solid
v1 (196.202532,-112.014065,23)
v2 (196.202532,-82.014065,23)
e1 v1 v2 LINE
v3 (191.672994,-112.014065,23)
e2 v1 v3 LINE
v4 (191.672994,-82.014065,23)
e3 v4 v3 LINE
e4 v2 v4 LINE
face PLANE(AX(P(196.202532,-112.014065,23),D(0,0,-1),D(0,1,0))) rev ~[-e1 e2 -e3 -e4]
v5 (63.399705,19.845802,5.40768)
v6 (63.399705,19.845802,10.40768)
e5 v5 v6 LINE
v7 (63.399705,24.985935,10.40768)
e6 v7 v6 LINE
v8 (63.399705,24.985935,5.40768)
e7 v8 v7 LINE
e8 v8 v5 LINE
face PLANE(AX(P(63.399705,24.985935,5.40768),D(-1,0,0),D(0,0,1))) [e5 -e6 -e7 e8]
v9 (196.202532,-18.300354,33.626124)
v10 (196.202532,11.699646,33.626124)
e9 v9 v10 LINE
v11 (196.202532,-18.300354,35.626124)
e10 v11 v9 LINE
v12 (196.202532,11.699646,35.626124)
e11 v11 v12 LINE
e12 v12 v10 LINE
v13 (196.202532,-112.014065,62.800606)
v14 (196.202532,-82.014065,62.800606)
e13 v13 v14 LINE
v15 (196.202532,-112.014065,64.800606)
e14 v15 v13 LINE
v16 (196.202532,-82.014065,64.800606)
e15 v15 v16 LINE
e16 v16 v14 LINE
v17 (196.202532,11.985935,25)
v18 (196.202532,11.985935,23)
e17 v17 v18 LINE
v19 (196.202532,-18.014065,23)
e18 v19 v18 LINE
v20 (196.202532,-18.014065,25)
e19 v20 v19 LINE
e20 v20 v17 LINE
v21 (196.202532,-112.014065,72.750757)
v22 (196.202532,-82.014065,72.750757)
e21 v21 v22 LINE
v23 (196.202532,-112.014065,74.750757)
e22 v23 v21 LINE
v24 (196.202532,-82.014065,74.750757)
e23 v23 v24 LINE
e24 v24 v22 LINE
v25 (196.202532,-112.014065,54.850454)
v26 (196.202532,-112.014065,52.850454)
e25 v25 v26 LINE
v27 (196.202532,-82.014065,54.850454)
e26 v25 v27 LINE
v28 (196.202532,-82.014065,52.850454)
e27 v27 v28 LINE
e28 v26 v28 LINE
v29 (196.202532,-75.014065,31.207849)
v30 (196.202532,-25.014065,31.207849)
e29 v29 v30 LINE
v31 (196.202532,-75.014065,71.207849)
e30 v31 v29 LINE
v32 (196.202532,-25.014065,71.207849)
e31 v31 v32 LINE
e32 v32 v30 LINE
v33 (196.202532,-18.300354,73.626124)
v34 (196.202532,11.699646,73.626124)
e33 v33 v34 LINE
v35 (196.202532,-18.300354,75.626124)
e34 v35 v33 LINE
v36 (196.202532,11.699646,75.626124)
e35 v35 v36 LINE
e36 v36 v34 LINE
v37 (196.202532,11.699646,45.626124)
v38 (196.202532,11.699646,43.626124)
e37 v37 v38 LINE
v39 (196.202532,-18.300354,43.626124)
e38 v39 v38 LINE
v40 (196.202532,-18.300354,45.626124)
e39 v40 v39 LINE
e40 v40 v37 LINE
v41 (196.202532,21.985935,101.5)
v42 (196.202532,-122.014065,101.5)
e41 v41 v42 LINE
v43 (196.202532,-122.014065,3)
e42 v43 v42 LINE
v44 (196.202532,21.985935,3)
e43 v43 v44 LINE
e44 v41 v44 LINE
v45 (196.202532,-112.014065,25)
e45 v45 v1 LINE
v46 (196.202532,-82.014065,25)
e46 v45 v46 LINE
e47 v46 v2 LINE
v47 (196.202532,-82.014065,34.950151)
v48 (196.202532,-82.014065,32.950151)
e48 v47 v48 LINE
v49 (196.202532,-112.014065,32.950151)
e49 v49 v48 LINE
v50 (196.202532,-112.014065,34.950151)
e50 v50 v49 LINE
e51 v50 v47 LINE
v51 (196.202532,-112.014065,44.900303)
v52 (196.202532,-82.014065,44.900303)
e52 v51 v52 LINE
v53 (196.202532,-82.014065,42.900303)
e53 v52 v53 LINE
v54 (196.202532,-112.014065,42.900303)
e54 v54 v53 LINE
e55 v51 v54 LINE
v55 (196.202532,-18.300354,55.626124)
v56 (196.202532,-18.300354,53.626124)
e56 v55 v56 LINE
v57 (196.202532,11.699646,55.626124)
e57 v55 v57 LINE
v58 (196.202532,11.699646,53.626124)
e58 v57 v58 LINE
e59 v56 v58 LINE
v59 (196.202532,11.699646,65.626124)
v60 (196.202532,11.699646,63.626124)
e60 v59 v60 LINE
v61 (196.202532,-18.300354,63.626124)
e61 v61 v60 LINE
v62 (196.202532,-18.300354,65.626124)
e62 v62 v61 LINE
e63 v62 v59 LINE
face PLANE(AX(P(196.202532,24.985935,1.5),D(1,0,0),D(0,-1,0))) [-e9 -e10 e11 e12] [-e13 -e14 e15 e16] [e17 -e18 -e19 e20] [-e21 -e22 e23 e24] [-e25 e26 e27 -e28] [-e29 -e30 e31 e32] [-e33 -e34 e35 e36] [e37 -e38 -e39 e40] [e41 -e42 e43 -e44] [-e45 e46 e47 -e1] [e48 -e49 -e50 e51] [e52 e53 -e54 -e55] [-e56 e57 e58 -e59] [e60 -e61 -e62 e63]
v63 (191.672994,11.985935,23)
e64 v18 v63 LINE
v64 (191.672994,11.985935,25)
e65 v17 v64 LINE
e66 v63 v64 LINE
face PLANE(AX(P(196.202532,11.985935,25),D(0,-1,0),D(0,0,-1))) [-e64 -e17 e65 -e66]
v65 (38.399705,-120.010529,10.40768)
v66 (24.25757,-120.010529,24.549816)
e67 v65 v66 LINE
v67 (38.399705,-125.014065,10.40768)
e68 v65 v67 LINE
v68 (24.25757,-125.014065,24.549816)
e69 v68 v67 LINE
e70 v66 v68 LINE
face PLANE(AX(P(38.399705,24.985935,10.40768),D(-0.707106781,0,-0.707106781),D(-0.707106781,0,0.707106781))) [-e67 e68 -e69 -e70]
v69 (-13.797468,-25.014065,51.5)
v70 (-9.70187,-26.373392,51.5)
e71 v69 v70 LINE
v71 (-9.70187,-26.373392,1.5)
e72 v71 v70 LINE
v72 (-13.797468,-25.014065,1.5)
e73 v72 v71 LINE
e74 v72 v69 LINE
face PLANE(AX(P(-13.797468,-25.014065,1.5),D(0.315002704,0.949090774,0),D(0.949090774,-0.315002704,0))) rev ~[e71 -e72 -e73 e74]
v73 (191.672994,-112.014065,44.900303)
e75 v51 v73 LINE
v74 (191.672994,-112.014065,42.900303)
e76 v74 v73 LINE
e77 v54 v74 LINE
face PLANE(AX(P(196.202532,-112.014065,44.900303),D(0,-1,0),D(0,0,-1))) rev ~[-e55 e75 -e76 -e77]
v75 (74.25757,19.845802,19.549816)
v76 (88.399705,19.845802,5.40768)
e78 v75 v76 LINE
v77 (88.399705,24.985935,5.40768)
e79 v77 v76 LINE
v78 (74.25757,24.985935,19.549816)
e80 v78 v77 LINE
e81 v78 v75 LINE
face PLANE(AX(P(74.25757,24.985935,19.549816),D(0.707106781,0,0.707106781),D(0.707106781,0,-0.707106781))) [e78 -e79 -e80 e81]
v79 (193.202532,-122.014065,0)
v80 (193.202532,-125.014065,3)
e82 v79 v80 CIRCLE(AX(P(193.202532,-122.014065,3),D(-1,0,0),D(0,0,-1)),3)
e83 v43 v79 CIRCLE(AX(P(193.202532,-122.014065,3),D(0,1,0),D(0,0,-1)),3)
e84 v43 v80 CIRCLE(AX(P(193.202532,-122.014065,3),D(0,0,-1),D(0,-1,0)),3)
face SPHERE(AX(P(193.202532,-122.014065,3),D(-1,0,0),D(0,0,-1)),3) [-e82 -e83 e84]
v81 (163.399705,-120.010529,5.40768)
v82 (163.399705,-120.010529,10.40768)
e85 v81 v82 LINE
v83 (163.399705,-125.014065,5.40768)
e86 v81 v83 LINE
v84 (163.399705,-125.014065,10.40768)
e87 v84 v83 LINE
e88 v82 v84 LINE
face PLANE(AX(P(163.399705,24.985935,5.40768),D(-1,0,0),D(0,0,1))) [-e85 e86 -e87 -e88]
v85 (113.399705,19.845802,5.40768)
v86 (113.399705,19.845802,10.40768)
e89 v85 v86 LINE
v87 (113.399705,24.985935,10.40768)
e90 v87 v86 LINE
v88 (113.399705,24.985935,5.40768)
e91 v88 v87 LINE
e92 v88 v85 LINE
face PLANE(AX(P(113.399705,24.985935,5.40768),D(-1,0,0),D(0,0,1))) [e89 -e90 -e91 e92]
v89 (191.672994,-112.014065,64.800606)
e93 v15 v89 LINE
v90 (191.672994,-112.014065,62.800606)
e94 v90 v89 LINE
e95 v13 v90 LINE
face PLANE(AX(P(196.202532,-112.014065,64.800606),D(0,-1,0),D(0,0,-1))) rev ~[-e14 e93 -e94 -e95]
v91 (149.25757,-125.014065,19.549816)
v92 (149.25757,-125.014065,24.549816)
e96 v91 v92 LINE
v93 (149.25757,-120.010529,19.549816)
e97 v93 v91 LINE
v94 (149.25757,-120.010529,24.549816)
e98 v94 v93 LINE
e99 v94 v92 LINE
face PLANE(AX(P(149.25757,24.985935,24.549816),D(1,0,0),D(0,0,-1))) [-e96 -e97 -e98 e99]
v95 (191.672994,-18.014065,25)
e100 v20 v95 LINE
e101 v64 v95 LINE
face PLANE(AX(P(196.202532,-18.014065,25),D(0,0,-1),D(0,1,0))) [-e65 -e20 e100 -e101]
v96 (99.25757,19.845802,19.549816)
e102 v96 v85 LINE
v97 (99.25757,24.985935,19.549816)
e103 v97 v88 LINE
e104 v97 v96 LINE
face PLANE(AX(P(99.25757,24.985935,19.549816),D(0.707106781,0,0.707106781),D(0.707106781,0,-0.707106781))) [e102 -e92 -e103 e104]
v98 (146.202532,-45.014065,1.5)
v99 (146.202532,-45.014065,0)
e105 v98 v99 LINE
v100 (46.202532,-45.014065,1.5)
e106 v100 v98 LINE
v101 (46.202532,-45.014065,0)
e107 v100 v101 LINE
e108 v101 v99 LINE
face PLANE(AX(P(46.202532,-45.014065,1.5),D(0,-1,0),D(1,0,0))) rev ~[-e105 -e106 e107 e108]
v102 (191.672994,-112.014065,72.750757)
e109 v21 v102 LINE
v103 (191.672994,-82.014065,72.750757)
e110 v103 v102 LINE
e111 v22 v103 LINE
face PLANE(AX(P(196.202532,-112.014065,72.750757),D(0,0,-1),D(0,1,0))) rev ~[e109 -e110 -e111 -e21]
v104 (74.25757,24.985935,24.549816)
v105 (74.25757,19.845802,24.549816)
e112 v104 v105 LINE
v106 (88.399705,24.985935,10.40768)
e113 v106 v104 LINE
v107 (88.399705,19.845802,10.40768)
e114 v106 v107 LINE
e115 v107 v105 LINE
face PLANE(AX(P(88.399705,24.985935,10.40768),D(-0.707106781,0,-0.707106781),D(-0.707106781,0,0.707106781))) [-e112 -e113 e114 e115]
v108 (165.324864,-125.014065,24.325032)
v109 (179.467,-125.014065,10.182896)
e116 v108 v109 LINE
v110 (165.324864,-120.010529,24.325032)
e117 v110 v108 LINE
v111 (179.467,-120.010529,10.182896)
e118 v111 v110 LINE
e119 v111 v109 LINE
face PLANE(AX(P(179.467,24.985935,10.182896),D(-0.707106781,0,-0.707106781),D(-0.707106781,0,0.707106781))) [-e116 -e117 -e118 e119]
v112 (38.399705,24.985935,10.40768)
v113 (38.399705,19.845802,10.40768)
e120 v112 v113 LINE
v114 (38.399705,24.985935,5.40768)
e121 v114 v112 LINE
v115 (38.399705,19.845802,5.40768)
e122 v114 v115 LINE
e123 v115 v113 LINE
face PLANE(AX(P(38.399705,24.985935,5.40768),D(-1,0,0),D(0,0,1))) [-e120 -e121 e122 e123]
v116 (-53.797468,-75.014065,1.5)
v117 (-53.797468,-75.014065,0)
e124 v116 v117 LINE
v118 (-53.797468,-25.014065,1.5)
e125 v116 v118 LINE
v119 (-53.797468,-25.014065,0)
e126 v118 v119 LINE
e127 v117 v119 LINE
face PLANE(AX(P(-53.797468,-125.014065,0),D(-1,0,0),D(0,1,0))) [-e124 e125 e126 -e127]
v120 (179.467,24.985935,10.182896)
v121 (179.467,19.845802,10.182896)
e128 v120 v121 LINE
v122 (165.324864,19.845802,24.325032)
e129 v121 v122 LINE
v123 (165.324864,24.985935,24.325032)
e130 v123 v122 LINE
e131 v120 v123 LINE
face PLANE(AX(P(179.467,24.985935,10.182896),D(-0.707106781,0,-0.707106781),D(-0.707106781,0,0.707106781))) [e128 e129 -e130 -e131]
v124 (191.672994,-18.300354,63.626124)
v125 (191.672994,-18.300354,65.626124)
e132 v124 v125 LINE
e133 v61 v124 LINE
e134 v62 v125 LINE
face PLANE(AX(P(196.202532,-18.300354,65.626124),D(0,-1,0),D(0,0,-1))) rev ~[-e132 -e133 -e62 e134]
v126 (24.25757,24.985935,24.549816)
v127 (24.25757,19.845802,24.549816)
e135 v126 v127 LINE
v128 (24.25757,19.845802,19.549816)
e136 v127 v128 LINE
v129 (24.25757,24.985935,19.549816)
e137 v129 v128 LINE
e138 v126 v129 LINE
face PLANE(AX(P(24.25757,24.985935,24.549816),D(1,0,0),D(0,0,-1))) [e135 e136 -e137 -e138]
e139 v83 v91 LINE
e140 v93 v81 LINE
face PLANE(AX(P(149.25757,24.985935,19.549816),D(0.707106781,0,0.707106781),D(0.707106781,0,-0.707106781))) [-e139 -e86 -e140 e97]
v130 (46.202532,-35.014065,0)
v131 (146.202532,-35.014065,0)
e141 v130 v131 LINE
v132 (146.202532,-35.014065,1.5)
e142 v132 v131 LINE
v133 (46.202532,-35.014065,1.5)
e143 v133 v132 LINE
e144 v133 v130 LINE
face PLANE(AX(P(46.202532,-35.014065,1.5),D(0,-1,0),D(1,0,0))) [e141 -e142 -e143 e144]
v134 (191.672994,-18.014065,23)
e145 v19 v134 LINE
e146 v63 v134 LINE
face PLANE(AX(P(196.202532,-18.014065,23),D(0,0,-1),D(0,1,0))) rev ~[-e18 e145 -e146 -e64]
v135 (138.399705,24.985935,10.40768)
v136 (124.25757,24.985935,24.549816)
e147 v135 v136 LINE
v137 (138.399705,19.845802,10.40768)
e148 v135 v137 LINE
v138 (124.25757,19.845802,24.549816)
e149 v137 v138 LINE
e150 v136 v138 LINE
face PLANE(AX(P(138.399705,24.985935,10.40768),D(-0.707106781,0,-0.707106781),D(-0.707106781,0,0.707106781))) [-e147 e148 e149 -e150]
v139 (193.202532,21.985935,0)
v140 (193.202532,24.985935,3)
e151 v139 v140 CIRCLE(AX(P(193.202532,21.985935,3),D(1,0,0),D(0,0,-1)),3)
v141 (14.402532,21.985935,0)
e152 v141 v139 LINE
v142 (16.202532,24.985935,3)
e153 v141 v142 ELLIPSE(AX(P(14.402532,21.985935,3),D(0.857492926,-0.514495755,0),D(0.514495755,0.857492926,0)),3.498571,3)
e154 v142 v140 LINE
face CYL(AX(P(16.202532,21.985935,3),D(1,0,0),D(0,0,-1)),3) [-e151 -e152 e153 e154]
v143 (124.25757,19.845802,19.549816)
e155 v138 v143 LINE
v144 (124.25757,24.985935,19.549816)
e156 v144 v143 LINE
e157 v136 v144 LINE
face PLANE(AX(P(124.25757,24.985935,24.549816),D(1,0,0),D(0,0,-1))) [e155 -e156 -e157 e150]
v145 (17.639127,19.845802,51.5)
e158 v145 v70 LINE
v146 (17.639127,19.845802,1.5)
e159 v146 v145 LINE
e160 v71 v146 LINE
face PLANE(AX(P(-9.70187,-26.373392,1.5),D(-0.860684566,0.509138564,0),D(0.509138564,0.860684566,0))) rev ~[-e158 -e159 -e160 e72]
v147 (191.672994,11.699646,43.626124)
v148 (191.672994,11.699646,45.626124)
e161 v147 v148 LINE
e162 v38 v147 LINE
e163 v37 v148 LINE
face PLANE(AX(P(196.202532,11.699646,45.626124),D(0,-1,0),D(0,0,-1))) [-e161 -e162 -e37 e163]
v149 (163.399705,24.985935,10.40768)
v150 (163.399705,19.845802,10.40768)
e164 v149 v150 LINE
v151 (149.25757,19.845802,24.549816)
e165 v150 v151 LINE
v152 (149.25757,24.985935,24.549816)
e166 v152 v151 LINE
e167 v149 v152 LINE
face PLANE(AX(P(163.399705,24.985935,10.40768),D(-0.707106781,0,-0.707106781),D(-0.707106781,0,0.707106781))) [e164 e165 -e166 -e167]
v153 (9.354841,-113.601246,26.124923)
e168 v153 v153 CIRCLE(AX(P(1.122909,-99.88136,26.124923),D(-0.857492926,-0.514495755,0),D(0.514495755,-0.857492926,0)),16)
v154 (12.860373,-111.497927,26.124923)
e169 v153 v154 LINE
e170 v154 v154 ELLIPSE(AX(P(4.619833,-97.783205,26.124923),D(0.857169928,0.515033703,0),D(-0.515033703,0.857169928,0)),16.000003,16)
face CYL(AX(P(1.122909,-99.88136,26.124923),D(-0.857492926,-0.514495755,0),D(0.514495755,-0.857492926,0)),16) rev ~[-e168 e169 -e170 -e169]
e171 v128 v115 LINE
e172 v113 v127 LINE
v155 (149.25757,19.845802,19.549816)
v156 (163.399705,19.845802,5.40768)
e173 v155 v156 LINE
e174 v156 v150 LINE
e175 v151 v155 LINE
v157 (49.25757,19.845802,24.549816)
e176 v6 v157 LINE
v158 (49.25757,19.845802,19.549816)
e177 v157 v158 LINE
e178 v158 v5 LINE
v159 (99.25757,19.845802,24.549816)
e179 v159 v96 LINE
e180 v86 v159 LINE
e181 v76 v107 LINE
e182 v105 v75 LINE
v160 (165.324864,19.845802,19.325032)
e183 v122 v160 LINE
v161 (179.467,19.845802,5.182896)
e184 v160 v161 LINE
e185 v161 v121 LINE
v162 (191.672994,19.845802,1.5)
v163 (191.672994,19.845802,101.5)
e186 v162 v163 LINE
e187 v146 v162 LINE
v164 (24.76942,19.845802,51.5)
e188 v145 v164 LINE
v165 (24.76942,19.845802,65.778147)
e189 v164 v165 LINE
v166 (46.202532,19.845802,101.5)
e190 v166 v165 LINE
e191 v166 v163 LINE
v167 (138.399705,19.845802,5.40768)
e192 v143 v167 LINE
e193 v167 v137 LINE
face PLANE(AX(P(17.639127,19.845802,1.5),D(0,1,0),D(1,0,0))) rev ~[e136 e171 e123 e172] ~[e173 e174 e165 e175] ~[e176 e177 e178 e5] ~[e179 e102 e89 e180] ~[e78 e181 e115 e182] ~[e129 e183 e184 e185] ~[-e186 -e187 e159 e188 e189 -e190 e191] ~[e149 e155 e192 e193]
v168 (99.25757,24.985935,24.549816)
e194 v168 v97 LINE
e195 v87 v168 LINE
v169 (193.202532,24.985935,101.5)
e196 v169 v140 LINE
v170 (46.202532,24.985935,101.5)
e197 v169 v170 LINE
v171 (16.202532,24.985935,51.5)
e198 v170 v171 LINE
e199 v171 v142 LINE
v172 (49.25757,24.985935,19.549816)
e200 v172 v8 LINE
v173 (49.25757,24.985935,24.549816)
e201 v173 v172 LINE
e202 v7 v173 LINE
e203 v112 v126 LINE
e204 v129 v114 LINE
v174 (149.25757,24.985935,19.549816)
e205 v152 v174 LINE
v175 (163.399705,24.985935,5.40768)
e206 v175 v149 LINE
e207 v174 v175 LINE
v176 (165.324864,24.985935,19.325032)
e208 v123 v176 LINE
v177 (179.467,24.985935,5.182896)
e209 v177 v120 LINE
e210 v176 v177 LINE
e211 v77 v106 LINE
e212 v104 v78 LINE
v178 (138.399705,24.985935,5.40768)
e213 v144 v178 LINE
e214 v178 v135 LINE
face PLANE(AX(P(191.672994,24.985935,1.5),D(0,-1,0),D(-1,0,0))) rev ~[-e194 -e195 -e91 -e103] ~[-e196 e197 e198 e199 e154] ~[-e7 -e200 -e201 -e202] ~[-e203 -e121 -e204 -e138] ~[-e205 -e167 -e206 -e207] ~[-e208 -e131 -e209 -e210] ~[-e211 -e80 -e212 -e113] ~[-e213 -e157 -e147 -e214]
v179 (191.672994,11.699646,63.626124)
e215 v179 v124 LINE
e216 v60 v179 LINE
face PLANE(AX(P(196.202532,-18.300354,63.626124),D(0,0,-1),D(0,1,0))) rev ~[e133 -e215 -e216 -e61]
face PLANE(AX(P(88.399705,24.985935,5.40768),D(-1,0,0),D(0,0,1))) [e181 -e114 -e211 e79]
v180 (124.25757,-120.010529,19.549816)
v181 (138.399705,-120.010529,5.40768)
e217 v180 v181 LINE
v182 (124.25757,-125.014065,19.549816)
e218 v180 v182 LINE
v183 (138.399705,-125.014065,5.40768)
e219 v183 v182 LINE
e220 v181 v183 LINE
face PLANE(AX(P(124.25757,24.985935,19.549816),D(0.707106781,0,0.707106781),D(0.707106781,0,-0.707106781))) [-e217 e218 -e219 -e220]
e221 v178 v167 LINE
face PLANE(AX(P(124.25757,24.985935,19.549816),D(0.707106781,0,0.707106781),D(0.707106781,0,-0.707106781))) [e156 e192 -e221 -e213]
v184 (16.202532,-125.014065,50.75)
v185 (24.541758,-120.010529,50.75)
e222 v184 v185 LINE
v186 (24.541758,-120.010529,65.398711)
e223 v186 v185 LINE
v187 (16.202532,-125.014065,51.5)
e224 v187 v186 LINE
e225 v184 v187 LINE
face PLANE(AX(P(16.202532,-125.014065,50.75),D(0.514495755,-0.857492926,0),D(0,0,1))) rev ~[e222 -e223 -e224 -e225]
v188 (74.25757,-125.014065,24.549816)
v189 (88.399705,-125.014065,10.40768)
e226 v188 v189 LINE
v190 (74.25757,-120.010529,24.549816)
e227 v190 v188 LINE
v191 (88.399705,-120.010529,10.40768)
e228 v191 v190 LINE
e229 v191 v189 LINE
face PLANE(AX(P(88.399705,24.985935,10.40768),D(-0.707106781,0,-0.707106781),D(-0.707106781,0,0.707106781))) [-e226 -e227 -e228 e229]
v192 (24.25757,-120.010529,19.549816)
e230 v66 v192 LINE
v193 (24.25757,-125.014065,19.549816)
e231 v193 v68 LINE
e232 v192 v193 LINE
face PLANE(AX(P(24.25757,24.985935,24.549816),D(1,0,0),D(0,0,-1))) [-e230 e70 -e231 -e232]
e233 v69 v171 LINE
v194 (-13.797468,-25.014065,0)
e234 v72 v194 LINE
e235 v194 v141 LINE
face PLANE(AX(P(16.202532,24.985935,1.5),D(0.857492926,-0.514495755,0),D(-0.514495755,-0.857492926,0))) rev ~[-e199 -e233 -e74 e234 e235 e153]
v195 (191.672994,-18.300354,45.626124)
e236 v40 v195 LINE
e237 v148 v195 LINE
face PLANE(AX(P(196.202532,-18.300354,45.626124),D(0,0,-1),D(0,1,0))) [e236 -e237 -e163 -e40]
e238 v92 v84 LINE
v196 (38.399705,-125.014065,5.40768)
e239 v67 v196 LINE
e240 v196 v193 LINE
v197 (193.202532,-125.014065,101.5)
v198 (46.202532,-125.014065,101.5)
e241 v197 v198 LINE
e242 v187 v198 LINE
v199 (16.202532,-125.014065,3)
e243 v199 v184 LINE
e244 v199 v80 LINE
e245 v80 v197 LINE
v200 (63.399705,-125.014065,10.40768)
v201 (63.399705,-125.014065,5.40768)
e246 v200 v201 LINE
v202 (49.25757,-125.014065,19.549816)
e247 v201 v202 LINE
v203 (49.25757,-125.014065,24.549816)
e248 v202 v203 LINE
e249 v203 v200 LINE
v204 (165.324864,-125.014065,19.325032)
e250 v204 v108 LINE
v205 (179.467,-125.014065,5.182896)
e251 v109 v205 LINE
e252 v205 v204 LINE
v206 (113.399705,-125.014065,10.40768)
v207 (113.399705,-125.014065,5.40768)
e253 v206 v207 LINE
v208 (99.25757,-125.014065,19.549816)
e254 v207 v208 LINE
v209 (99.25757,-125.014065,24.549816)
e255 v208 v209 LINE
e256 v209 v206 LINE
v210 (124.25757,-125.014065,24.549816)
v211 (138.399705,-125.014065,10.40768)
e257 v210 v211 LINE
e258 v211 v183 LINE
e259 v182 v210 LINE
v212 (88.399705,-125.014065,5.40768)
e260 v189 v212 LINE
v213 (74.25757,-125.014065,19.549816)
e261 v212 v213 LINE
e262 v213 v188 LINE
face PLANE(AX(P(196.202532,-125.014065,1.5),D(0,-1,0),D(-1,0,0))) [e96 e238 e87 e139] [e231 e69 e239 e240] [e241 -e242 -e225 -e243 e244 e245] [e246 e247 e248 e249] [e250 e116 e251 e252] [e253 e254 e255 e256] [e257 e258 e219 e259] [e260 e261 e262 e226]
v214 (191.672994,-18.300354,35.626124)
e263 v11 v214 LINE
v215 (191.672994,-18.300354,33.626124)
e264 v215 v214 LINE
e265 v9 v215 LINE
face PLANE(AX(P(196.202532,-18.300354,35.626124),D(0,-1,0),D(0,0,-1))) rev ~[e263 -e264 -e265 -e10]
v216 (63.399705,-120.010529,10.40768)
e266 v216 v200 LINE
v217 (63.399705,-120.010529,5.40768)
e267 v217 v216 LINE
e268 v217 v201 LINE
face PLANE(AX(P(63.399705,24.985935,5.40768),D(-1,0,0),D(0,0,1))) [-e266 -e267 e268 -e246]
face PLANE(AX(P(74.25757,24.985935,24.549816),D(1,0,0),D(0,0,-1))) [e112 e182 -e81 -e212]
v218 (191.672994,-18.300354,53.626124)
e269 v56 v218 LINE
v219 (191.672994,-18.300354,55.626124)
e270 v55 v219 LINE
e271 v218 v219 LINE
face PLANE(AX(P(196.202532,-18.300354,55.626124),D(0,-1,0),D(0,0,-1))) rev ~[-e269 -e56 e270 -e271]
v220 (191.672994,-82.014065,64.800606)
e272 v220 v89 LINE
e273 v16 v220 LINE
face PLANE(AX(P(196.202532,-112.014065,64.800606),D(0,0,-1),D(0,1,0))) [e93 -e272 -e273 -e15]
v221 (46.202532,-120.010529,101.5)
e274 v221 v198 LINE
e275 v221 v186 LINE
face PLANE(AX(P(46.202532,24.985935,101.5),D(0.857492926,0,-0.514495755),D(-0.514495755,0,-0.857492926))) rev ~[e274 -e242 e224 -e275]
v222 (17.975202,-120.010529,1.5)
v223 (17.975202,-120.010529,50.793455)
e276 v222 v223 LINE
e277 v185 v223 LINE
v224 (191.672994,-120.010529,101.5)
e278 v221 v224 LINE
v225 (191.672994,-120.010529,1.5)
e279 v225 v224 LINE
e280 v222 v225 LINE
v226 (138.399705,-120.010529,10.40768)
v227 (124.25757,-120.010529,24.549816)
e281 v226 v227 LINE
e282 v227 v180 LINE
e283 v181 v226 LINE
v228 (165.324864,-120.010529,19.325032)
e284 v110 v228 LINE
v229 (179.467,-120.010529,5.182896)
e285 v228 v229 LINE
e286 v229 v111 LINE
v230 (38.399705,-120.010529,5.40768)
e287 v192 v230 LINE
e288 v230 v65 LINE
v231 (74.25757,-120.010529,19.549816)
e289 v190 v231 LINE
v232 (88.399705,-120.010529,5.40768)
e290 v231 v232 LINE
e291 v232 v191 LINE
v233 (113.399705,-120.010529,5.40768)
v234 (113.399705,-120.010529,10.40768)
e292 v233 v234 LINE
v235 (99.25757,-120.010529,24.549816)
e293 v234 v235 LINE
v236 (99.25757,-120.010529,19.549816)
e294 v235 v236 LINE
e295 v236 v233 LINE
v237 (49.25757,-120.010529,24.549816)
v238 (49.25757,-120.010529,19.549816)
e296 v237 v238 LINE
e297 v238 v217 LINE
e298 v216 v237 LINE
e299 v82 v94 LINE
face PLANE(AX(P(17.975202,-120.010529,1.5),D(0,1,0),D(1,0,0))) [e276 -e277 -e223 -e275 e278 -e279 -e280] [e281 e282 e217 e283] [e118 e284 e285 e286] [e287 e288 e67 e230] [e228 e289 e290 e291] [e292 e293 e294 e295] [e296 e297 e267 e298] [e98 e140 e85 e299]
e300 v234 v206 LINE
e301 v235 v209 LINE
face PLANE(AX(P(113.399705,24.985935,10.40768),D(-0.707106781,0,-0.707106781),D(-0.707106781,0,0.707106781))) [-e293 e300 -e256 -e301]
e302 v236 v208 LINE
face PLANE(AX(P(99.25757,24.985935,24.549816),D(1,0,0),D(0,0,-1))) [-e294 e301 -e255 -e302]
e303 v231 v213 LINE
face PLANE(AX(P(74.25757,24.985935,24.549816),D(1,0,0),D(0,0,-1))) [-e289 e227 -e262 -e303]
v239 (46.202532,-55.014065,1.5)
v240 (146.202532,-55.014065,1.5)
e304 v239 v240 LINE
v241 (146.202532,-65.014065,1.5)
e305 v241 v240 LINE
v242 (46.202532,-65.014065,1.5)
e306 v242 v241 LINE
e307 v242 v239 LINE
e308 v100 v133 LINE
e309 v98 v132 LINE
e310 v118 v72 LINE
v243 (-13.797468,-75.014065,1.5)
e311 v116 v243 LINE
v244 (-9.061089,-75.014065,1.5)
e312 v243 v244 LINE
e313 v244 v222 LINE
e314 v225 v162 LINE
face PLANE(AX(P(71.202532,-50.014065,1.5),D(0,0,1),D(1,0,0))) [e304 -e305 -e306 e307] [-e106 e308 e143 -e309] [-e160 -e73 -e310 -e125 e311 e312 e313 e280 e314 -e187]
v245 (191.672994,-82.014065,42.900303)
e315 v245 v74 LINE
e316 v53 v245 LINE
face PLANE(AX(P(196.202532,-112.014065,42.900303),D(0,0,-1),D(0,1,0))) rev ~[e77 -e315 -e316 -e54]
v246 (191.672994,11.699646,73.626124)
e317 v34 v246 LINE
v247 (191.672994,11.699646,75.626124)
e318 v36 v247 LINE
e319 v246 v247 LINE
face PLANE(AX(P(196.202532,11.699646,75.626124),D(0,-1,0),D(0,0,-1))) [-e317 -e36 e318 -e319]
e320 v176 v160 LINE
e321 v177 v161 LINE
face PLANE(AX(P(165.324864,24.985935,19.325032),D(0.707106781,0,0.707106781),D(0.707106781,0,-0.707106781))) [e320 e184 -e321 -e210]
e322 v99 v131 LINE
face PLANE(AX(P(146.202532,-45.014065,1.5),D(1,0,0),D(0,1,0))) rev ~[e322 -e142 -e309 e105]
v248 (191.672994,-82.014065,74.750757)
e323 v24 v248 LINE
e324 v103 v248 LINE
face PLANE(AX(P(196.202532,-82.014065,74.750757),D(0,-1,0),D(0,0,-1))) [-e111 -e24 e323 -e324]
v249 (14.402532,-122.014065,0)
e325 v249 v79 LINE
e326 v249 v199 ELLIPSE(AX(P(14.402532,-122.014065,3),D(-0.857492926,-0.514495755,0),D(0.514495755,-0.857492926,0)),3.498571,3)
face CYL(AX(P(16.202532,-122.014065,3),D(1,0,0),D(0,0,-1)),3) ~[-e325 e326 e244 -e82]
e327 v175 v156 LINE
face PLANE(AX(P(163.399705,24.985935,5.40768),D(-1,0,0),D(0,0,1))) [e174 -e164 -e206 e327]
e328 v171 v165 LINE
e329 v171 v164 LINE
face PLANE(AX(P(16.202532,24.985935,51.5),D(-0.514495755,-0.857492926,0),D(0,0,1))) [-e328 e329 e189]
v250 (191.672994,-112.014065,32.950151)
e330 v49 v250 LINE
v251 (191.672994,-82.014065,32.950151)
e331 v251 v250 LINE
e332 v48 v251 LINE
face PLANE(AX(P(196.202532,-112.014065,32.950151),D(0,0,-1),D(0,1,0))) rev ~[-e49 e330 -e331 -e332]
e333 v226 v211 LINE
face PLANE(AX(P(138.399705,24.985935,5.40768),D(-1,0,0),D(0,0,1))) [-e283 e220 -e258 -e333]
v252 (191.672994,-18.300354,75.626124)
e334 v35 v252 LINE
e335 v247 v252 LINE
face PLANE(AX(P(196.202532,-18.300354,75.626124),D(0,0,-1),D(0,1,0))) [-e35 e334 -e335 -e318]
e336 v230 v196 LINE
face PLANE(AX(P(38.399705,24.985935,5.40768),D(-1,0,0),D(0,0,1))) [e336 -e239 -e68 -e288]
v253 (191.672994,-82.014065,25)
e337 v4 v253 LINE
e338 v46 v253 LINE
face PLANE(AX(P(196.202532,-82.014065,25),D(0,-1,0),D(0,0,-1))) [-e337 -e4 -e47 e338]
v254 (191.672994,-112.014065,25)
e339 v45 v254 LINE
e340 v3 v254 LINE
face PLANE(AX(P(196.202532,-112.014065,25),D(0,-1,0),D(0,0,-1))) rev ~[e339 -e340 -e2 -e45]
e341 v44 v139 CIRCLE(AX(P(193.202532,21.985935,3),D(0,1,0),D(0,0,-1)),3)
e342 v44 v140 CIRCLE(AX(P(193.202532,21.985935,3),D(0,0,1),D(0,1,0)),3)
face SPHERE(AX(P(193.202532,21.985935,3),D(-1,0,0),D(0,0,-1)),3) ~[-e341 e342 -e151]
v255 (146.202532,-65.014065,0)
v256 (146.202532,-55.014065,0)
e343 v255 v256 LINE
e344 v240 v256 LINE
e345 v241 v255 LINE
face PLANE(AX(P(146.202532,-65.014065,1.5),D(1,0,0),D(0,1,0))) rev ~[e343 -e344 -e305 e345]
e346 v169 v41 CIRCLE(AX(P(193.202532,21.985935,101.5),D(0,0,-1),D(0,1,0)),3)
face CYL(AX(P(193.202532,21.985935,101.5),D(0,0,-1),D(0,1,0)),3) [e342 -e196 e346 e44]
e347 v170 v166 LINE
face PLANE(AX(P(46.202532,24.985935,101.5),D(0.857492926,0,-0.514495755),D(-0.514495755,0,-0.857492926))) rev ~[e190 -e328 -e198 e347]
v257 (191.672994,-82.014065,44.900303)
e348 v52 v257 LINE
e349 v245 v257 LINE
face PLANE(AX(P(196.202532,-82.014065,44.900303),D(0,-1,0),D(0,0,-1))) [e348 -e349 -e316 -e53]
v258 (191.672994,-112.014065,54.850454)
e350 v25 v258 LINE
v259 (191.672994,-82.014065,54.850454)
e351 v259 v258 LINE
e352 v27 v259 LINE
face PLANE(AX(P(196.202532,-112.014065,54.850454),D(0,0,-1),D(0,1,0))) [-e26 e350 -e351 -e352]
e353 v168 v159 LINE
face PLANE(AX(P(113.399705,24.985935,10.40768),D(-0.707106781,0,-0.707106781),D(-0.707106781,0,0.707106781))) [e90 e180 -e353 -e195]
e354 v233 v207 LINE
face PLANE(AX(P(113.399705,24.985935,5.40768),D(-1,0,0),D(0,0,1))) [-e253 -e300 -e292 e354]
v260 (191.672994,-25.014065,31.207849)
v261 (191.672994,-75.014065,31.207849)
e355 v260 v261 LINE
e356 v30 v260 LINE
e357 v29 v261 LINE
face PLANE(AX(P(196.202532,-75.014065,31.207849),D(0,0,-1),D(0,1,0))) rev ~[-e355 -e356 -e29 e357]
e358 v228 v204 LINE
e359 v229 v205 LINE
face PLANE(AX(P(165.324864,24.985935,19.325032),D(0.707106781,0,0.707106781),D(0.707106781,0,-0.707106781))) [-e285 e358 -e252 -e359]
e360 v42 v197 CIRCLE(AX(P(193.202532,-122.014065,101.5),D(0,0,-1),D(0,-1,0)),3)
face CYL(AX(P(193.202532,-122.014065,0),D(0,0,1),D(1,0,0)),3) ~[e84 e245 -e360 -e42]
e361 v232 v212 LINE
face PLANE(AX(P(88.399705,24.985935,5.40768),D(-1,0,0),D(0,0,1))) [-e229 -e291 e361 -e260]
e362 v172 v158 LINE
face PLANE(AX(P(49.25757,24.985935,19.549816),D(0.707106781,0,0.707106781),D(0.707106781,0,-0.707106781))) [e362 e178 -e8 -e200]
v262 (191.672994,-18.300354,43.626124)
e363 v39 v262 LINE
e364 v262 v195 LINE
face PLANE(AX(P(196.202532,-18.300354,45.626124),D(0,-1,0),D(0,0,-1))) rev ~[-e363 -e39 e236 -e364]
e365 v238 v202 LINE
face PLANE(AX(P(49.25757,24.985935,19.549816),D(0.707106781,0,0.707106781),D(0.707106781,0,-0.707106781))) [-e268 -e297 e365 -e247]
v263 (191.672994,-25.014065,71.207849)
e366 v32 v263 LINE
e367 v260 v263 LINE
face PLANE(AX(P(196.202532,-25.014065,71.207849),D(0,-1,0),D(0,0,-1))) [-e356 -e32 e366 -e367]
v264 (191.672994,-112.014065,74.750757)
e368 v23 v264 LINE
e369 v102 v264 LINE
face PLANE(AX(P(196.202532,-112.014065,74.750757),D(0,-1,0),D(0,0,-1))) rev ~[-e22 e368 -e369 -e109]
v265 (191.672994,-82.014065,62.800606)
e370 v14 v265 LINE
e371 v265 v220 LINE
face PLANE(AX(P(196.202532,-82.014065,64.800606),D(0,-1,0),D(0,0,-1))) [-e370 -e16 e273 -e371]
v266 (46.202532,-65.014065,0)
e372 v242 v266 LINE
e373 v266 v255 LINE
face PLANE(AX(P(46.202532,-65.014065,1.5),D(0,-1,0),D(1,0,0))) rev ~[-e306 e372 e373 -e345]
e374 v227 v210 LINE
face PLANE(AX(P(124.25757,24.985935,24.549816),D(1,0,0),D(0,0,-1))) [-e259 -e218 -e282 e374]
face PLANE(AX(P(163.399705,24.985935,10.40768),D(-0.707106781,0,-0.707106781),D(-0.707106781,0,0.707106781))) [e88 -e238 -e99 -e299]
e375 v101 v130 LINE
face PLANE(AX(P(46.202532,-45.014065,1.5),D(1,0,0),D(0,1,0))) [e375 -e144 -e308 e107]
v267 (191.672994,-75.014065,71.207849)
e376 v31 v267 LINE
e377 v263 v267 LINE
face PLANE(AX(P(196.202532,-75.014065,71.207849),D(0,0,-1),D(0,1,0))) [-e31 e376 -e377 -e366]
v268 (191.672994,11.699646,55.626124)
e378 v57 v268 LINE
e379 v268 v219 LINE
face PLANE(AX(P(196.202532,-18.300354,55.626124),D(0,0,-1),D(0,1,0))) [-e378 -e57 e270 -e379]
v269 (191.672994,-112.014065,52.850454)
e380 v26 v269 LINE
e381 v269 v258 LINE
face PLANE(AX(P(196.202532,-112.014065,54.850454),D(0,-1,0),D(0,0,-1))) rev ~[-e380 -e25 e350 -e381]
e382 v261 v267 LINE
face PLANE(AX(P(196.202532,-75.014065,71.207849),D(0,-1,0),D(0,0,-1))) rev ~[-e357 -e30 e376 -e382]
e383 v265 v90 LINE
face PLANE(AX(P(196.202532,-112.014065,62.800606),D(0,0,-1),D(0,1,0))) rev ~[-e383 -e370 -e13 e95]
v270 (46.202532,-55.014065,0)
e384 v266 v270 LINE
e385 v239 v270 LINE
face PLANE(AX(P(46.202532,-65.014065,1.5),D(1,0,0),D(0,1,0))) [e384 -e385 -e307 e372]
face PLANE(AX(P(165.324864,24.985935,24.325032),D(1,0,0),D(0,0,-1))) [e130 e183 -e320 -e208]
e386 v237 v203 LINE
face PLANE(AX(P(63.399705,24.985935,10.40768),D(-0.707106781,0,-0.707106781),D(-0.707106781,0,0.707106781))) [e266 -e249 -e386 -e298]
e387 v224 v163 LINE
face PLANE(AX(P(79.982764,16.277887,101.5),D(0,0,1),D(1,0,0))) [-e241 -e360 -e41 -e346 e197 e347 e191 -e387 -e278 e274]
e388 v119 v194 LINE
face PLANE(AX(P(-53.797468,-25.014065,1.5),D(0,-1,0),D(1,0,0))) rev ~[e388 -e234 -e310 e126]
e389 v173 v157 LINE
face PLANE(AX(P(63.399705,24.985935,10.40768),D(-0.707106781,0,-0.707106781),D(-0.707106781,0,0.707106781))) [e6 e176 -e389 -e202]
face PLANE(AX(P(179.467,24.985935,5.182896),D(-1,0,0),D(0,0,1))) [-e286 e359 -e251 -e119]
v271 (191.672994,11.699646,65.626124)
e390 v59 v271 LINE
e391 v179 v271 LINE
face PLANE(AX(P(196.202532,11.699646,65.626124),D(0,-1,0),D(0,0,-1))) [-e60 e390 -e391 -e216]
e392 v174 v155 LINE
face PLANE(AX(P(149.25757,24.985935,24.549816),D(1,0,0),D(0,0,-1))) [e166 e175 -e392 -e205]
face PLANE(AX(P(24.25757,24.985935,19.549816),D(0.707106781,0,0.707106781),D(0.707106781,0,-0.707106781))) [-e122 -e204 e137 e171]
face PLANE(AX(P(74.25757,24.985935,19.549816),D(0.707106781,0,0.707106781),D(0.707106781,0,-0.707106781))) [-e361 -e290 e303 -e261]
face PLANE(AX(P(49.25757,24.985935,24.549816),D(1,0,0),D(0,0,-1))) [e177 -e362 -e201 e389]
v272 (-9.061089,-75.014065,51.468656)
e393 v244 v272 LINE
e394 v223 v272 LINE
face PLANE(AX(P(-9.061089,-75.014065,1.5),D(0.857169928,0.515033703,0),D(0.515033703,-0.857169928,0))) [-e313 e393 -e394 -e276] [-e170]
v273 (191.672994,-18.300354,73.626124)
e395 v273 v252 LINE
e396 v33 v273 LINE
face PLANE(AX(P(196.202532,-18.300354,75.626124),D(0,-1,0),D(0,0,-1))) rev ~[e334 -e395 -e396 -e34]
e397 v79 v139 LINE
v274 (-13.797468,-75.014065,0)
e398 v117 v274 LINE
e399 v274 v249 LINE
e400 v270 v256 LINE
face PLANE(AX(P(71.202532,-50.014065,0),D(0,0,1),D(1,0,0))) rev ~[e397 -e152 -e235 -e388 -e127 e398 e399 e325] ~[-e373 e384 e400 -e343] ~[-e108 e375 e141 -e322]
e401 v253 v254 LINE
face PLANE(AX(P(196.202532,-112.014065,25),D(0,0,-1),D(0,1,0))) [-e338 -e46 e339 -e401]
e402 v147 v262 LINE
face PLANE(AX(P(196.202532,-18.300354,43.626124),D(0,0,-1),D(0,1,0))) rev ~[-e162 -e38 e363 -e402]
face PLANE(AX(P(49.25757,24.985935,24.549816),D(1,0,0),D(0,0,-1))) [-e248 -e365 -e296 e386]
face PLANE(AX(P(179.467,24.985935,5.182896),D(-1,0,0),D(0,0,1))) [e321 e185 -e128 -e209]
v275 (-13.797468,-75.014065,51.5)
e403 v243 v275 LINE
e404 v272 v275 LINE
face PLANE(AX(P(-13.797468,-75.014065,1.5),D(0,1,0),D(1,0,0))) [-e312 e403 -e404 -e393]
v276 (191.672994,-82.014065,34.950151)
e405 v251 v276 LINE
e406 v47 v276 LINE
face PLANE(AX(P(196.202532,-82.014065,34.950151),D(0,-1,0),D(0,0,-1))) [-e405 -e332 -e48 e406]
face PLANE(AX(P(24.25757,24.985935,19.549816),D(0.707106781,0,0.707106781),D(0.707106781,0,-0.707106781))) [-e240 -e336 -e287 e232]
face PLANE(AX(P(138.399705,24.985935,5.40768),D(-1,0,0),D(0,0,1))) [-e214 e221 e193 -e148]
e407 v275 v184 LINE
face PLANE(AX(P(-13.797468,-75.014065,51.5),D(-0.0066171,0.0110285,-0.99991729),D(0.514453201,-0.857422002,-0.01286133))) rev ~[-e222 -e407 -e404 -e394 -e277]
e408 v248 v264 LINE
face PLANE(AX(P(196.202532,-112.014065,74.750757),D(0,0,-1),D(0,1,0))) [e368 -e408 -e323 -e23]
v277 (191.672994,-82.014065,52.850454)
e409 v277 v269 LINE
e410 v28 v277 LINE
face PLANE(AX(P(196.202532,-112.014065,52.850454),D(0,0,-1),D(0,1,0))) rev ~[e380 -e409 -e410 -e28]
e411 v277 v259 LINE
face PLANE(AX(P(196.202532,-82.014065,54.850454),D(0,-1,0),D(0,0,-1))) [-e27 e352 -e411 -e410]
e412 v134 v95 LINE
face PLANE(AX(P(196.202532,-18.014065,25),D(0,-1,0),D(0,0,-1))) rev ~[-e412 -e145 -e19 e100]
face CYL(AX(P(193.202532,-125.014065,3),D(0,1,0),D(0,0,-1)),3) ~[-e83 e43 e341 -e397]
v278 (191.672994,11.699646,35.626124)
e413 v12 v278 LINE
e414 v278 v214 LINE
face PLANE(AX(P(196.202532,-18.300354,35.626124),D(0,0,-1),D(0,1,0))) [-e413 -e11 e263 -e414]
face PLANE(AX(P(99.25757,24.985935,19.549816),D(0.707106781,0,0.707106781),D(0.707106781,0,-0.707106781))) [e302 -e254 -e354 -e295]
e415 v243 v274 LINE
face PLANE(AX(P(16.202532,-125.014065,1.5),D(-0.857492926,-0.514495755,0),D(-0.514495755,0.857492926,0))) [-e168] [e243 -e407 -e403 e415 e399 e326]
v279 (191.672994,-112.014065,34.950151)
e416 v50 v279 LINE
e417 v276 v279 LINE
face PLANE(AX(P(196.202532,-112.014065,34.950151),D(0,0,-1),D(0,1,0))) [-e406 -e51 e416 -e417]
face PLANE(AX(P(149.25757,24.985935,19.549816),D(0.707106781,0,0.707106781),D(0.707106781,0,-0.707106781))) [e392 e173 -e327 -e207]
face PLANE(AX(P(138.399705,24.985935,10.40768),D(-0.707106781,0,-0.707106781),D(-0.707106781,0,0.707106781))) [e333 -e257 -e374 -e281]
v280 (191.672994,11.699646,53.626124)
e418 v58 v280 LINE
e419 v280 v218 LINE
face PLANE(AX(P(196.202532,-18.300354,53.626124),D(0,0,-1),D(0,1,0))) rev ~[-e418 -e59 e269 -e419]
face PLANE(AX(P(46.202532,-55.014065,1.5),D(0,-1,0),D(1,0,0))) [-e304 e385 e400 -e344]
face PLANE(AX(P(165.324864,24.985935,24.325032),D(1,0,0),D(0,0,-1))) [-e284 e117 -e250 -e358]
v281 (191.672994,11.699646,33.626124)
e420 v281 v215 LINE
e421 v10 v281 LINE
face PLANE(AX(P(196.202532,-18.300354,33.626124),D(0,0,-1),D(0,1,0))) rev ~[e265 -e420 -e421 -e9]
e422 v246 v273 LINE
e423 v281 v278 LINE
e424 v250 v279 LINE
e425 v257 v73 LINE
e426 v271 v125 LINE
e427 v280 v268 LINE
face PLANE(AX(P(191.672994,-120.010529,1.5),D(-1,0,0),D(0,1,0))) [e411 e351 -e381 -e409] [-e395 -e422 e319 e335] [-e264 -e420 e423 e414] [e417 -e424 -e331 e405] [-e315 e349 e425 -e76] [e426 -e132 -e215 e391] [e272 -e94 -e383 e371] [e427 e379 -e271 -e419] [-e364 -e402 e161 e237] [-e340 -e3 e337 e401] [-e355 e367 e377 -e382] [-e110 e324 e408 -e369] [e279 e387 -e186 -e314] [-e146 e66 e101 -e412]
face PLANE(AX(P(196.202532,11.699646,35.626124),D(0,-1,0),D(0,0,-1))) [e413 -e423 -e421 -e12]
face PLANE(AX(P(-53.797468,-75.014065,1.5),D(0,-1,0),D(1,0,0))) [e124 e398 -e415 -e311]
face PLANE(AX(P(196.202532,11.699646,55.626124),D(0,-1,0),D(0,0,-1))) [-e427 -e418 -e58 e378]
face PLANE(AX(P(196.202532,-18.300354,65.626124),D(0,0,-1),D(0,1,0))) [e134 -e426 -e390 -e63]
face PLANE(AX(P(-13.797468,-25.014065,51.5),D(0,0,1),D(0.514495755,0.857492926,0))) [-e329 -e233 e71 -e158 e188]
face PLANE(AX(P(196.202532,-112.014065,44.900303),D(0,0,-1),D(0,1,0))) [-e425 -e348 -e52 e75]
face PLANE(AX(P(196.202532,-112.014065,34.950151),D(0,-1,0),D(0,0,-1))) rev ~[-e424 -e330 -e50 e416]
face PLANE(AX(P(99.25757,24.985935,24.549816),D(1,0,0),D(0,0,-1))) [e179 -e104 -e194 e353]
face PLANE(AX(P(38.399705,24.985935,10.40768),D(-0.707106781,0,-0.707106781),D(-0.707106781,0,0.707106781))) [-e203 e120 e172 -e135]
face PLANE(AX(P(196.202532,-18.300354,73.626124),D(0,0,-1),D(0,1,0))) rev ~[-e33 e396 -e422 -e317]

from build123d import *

# Parameters (mm, degrees)
SKETCH_1_W           = 250
SKETCH_1_H           = 150
EXTRUDE_1_DEPTH      = 1.5
SKETCH_2_W           = 40
SKETCH_2_H           = 50
CUT_EXTRUDE_1_DEPTH  = 233.650381036
SKETCH_3_W           = 40
SKETCH_3_H           = 50
CUT_EXTRUDE_2_DEPTH  = 233.650381036
CUT_EXTRUDE_3_DEPTH  = 233.650381036
SKETCH_5_W           = 100
SKETCH_5_H           = 10
CUT_EXTRUDE_4_DEPTH  = 233.650381036
EXTRUDE_2_DEPTH      = 100
EXTRUDE_3_DEPTH      = 100
CUT_EXTRUDE_5_DEPTH  = 268.016260599
CUT_EXTRUDE_7_DEPTH  = 10
SKETCH_14_W          = 50
SKETCH_14_H          = 58.309518949
CUT_EXTRUDE_10_DEPTH = 10
SKETCH_15_R          = 16
CUT_EXTRUDE_11_DEPTH = 10
CUT_EXTRUDE_14_DEPTH = 268.016260599
SKETCH_20_W          = 40
SKETCH_20_H          = 50
CUT_EXTRUDE_15_DEPTH = 10
FILLET_1_R           = 3
SKETCH_21_W          = 2
SKETCH_21_H          = 30
CUT_EXTRUDE_16_DEPTH = 10


with BuildPart() as part:
    # 草图1 → 凸台-拉伸1 (new body)
    with BuildSketch(Plane.XY):
        with Locations((71.202531646, -50.014064698)):
            Rectangle(SKETCH_1_W, SKETCH_1_H)
    extrude(amount=EXTRUDE_1_DEPTH)

    # 草图2 → 切除-拉伸1 (cut, through all)
    with BuildSketch(Plane.XY.offset(1.5)):
        with Locations((-33.797468354, -0.014064698)):
            Rectangle(SKETCH_2_W, SKETCH_2_H)
    extrude(amount=-CUT_EXTRUDE_1_DEPTH, mode=Mode.SUBTRACT)

    # 草图3 → 切除-拉伸2 (cut, through all)
    with BuildSketch(Plane.XY.offset(1.5)):
        with Locations((-33.797468354, -100.014064698)):
            Rectangle(SKETCH_3_W, SKETCH_3_H)
    extrude(amount=-CUT_EXTRUDE_2_DEPTH, mode=Mode.SUBTRACT)

    # 草图4 → 切除-拉伸3 (cut, through all)
    with BuildSketch(Plane.XY.offset(1.5)):
        Polygon((-13.797468354, -75.014064698), (16.202531646, -125.014064698), (-13.797468354, -125.014064698), align=None)
        Polygon((-13.797468354, -25.014064698), (16.202531646, 24.985935302), (-13.797468354, 24.985935302), align=None)
    extrude(amount=-CUT_EXTRUDE_3_DEPTH, mode=Mode.SUBTRACT)

    # 草图5 → 切除-拉伸4 (cut, through all)
    with BuildSketch(Plane.XY.offset(1.5)):
        with Locations((96.202531646, -60.014064698)):
            Rectangle(SKETCH_5_W, SKETCH_5_H)
        with Locations((96.202531646, -40.014064698)):
            Rectangle(SKETCH_5_W, SKETCH_5_H)
    extrude(amount=-CUT_EXTRUDE_4_DEPTH, mode=Mode.SUBTRACT)

    # 草图6 → 凸台-拉伸2 (add)
    with BuildSketch(Plane.XY.offset(1.5)):
        Polygon((-13.797468354, -75.014064698), (-9.06108927, -75.014064698), (17.975201528, -120.010528641), (191.672994216, -120.010528641), (191.672994216, 24.985935302), (196.202531646, 24.985935302), (196.202531646, -125.014064698), (16.202531646, -125.014064698), align=None)
    extrude(amount=EXTRUDE_2_DEPTH)

    # 草图7 → 凸台-拉伸3 (add)
    with BuildSketch(Plane.XY.offset(1.5)):
        Polygon((-9.70187004, -26.373391519), (17.639126857, 19.845802477), (191.672994216, 19.845802477), (191.672994216, 24.985935302), (16.202531646, 24.985935302), (-13.797468354, -25.014064698), align=None)
    extrude(amount=EXTRUDE_3_DEPTH)

    # 草图8 → 切除-拉伸5 (cut, through all)
    with BuildSketch(Plane(origin=(0, 24.985935302, 0), x_dir=(1, 0, 0), z_dir=(0, 1, 0))):
        Polygon((179.466999768, -10.18289615), (165.324864144, -24.325031774), (165.324864144, -19.325031774), (179.466999768, -5.18289615), align=None)
        Polygon((163.399705406, -10.407679967), (149.257569782, -24.549815591), (149.257569782, -19.549815591), (163.399705406, -5.407679967), align=None)
        Polygon((124.257569782, -24.549815591), (124.257569782, -19.549815591), (138.399705406, -5.407679967), (138.399705406, -10.407679967), align=None)
        Polygon((99.257569782, -24.549815591), (99.257569782, -19.549815591), (113.399705406, -5.407679967), (113.399705406, -10.407679967), align=None)
        Polygon((74.257569782, -24.549815591), (74.257569782, -19.549815591), (88.399705406, -5.407679967), (88.399705406, -10.407679967), align=None)
        Polygon((49.257569782, -24.549815591), (49.257569782, -19.549815591), (63.399705406, -5.407679967), (63.399705406, -10.407679967), align=None)
        Polygon((24.257569782, -24.549815591), (24.257569782, -19.549815591), (38.399705406, -5.407679967), (38.399705406, -10.407679967), align=None)
    extrude(amount=-CUT_EXTRUDE_5_DEPTH, mode=Mode.SUBTRACT)

    # 草图11 → 切除-拉伸7 (cut)
    with BuildSketch(Plane(origin=(-43.239637627, -25.943782576, 0), x_dir=(0, 0, 1), z_dir=(-0.8574929257125441, -0.5144957554275268, 0))):
        Polygon((101.5, -57.225290903), (51.5, -57.225290903), (50.75, -115.534809852), (101.5, -115.534809852), align=None)
    extrude(amount=-CUT_EXTRUDE_7_DEPTH, mode=Mode.SUBTRACT)

    # 草图14 → 切除-拉伸10 (cut)
    with BuildSketch(Plane(origin=(0.890419459, -0.534251675, 0), x_dir=(0, 0, 1), z_dir=(-0.8574929257125442, 0.5144957554275266, 0))):
        with Locations((76.5, 0.606637048)):
            Rectangle(SKETCH_14_W, SKETCH_14_H)
    extrude(amount=-CUT_EXTRUDE_10_DEPTH, mode=Mode.SUBTRACT)

    # 草图15 → 切除-拉伸11 (cut)
    with BuildSketch(Plane(origin=(-43.239637627, -25.943782576, 0), x_dir=(0, 0, 1), z_dir=(-0.8574929257125441, -0.5144957554275268, 0))):
        with Locations(Location((26.124922648, -86.225290903, 0), (0, 0, 270))):
            Circle(SKETCH_15_R)
    extrude(amount=-CUT_EXTRUDE_11_DEPTH, mode=Mode.SUBTRACT)

    # 草图19 → 切除-拉伸14 (cut, through all)
    with BuildSketch(Plane(origin=(0, 24.985935302, 0), x_dir=(1, 0, 0), z_dir=(0, 1, 0))):
        Polygon((46.202531646, -101.5), (16.202531646, -51.5), (16.202531646, -101.5), align=None)
    extrude(amount=-CUT_EXTRUDE_14_DEPTH, mode=Mode.SUBTRACT)

    # 草图20 → 切除-拉伸15 (cut)
    with BuildSketch(Plane(origin=(196.202531646, 0, 0), x_dir=(0, 0, -1), z_dir=(1, 0, 0))):
        with Locations((-51.207849099, -50.014064698)):
            Rectangle(SKETCH_20_W, SKETCH_20_H)
    extrude(amount=-CUT_EXTRUDE_15_DEPTH, mode=Mode.SUBTRACT)

    # 圆角1
    fillet_1_edges = [part.edges().sort_by_distance(p)[0] for p in [
        (106.202531646, -125.014064698, 0),
        (106.202531646, 24.985935302, 0),
        (196.202531646, -50.014064698, 0),
        (196.202531646, 24.985935302, 50.75),
        (196.202531646, -125.014064698, 50.75),
    ]]
    fillet(fillet_1_edges, radius=FILLET_1_R)

    # 草图21 → 切除-拉伸16 (cut)
    with BuildSketch(Plane(origin=(196.202531646, 0, 0), x_dir=(0, 0, -1), z_dir=(1, 0, 0))):
        with Locations((-63.800605611, -97.014064698)):
            Rectangle(SKETCH_21_W, SKETCH_21_H)
        with Locations((-73.750757013, -97.014064698)):
            Rectangle(SKETCH_21_W, SKETCH_21_H)
        with Locations((-53.850454208, -97.014064698)):
            Rectangle(SKETCH_21_W, SKETCH_21_H)
        with Locations((-43.900302805, -97.014064698)):
            Rectangle(SKETCH_21_W, SKETCH_21_H)
        with Locations((-33.950151403, -97.014064698)):
            Rectangle(SKETCH_21_W, SKETCH_21_H)
        with Locations((-24, -97.014064698)):
            Rectangle(SKETCH_21_W, SKETCH_21_H)
        with Locations((-64.626123933, -3.300353784)):
            Rectangle(SKETCH_21_W, SKETCH_21_H)
        with Locations((-74.626123933, -3.300353784)):
            Rectangle(SKETCH_21_W, SKETCH_21_H)
        with Locations((-54.626123933, -3.300353784)):
            Rectangle(SKETCH_21_W, SKETCH_21_H)
        with Locations((-44.626123933, -3.300353784)):
            Rectangle(SKETCH_21_W, SKETCH_21_H)
        with Locations((-34.626123933, -3.300353784)):
            Rectangle(SKETCH_21_W, SKETCH_21_H)
        with Locations((-24, -3.014064698)):
            Rectangle(SKETCH_21_W, SKETCH_21_H)
    extrude(amount=-CUT_EXTRUDE_16_DEPTH, mode=Mode.SUBTRACT)


solid = part.part
